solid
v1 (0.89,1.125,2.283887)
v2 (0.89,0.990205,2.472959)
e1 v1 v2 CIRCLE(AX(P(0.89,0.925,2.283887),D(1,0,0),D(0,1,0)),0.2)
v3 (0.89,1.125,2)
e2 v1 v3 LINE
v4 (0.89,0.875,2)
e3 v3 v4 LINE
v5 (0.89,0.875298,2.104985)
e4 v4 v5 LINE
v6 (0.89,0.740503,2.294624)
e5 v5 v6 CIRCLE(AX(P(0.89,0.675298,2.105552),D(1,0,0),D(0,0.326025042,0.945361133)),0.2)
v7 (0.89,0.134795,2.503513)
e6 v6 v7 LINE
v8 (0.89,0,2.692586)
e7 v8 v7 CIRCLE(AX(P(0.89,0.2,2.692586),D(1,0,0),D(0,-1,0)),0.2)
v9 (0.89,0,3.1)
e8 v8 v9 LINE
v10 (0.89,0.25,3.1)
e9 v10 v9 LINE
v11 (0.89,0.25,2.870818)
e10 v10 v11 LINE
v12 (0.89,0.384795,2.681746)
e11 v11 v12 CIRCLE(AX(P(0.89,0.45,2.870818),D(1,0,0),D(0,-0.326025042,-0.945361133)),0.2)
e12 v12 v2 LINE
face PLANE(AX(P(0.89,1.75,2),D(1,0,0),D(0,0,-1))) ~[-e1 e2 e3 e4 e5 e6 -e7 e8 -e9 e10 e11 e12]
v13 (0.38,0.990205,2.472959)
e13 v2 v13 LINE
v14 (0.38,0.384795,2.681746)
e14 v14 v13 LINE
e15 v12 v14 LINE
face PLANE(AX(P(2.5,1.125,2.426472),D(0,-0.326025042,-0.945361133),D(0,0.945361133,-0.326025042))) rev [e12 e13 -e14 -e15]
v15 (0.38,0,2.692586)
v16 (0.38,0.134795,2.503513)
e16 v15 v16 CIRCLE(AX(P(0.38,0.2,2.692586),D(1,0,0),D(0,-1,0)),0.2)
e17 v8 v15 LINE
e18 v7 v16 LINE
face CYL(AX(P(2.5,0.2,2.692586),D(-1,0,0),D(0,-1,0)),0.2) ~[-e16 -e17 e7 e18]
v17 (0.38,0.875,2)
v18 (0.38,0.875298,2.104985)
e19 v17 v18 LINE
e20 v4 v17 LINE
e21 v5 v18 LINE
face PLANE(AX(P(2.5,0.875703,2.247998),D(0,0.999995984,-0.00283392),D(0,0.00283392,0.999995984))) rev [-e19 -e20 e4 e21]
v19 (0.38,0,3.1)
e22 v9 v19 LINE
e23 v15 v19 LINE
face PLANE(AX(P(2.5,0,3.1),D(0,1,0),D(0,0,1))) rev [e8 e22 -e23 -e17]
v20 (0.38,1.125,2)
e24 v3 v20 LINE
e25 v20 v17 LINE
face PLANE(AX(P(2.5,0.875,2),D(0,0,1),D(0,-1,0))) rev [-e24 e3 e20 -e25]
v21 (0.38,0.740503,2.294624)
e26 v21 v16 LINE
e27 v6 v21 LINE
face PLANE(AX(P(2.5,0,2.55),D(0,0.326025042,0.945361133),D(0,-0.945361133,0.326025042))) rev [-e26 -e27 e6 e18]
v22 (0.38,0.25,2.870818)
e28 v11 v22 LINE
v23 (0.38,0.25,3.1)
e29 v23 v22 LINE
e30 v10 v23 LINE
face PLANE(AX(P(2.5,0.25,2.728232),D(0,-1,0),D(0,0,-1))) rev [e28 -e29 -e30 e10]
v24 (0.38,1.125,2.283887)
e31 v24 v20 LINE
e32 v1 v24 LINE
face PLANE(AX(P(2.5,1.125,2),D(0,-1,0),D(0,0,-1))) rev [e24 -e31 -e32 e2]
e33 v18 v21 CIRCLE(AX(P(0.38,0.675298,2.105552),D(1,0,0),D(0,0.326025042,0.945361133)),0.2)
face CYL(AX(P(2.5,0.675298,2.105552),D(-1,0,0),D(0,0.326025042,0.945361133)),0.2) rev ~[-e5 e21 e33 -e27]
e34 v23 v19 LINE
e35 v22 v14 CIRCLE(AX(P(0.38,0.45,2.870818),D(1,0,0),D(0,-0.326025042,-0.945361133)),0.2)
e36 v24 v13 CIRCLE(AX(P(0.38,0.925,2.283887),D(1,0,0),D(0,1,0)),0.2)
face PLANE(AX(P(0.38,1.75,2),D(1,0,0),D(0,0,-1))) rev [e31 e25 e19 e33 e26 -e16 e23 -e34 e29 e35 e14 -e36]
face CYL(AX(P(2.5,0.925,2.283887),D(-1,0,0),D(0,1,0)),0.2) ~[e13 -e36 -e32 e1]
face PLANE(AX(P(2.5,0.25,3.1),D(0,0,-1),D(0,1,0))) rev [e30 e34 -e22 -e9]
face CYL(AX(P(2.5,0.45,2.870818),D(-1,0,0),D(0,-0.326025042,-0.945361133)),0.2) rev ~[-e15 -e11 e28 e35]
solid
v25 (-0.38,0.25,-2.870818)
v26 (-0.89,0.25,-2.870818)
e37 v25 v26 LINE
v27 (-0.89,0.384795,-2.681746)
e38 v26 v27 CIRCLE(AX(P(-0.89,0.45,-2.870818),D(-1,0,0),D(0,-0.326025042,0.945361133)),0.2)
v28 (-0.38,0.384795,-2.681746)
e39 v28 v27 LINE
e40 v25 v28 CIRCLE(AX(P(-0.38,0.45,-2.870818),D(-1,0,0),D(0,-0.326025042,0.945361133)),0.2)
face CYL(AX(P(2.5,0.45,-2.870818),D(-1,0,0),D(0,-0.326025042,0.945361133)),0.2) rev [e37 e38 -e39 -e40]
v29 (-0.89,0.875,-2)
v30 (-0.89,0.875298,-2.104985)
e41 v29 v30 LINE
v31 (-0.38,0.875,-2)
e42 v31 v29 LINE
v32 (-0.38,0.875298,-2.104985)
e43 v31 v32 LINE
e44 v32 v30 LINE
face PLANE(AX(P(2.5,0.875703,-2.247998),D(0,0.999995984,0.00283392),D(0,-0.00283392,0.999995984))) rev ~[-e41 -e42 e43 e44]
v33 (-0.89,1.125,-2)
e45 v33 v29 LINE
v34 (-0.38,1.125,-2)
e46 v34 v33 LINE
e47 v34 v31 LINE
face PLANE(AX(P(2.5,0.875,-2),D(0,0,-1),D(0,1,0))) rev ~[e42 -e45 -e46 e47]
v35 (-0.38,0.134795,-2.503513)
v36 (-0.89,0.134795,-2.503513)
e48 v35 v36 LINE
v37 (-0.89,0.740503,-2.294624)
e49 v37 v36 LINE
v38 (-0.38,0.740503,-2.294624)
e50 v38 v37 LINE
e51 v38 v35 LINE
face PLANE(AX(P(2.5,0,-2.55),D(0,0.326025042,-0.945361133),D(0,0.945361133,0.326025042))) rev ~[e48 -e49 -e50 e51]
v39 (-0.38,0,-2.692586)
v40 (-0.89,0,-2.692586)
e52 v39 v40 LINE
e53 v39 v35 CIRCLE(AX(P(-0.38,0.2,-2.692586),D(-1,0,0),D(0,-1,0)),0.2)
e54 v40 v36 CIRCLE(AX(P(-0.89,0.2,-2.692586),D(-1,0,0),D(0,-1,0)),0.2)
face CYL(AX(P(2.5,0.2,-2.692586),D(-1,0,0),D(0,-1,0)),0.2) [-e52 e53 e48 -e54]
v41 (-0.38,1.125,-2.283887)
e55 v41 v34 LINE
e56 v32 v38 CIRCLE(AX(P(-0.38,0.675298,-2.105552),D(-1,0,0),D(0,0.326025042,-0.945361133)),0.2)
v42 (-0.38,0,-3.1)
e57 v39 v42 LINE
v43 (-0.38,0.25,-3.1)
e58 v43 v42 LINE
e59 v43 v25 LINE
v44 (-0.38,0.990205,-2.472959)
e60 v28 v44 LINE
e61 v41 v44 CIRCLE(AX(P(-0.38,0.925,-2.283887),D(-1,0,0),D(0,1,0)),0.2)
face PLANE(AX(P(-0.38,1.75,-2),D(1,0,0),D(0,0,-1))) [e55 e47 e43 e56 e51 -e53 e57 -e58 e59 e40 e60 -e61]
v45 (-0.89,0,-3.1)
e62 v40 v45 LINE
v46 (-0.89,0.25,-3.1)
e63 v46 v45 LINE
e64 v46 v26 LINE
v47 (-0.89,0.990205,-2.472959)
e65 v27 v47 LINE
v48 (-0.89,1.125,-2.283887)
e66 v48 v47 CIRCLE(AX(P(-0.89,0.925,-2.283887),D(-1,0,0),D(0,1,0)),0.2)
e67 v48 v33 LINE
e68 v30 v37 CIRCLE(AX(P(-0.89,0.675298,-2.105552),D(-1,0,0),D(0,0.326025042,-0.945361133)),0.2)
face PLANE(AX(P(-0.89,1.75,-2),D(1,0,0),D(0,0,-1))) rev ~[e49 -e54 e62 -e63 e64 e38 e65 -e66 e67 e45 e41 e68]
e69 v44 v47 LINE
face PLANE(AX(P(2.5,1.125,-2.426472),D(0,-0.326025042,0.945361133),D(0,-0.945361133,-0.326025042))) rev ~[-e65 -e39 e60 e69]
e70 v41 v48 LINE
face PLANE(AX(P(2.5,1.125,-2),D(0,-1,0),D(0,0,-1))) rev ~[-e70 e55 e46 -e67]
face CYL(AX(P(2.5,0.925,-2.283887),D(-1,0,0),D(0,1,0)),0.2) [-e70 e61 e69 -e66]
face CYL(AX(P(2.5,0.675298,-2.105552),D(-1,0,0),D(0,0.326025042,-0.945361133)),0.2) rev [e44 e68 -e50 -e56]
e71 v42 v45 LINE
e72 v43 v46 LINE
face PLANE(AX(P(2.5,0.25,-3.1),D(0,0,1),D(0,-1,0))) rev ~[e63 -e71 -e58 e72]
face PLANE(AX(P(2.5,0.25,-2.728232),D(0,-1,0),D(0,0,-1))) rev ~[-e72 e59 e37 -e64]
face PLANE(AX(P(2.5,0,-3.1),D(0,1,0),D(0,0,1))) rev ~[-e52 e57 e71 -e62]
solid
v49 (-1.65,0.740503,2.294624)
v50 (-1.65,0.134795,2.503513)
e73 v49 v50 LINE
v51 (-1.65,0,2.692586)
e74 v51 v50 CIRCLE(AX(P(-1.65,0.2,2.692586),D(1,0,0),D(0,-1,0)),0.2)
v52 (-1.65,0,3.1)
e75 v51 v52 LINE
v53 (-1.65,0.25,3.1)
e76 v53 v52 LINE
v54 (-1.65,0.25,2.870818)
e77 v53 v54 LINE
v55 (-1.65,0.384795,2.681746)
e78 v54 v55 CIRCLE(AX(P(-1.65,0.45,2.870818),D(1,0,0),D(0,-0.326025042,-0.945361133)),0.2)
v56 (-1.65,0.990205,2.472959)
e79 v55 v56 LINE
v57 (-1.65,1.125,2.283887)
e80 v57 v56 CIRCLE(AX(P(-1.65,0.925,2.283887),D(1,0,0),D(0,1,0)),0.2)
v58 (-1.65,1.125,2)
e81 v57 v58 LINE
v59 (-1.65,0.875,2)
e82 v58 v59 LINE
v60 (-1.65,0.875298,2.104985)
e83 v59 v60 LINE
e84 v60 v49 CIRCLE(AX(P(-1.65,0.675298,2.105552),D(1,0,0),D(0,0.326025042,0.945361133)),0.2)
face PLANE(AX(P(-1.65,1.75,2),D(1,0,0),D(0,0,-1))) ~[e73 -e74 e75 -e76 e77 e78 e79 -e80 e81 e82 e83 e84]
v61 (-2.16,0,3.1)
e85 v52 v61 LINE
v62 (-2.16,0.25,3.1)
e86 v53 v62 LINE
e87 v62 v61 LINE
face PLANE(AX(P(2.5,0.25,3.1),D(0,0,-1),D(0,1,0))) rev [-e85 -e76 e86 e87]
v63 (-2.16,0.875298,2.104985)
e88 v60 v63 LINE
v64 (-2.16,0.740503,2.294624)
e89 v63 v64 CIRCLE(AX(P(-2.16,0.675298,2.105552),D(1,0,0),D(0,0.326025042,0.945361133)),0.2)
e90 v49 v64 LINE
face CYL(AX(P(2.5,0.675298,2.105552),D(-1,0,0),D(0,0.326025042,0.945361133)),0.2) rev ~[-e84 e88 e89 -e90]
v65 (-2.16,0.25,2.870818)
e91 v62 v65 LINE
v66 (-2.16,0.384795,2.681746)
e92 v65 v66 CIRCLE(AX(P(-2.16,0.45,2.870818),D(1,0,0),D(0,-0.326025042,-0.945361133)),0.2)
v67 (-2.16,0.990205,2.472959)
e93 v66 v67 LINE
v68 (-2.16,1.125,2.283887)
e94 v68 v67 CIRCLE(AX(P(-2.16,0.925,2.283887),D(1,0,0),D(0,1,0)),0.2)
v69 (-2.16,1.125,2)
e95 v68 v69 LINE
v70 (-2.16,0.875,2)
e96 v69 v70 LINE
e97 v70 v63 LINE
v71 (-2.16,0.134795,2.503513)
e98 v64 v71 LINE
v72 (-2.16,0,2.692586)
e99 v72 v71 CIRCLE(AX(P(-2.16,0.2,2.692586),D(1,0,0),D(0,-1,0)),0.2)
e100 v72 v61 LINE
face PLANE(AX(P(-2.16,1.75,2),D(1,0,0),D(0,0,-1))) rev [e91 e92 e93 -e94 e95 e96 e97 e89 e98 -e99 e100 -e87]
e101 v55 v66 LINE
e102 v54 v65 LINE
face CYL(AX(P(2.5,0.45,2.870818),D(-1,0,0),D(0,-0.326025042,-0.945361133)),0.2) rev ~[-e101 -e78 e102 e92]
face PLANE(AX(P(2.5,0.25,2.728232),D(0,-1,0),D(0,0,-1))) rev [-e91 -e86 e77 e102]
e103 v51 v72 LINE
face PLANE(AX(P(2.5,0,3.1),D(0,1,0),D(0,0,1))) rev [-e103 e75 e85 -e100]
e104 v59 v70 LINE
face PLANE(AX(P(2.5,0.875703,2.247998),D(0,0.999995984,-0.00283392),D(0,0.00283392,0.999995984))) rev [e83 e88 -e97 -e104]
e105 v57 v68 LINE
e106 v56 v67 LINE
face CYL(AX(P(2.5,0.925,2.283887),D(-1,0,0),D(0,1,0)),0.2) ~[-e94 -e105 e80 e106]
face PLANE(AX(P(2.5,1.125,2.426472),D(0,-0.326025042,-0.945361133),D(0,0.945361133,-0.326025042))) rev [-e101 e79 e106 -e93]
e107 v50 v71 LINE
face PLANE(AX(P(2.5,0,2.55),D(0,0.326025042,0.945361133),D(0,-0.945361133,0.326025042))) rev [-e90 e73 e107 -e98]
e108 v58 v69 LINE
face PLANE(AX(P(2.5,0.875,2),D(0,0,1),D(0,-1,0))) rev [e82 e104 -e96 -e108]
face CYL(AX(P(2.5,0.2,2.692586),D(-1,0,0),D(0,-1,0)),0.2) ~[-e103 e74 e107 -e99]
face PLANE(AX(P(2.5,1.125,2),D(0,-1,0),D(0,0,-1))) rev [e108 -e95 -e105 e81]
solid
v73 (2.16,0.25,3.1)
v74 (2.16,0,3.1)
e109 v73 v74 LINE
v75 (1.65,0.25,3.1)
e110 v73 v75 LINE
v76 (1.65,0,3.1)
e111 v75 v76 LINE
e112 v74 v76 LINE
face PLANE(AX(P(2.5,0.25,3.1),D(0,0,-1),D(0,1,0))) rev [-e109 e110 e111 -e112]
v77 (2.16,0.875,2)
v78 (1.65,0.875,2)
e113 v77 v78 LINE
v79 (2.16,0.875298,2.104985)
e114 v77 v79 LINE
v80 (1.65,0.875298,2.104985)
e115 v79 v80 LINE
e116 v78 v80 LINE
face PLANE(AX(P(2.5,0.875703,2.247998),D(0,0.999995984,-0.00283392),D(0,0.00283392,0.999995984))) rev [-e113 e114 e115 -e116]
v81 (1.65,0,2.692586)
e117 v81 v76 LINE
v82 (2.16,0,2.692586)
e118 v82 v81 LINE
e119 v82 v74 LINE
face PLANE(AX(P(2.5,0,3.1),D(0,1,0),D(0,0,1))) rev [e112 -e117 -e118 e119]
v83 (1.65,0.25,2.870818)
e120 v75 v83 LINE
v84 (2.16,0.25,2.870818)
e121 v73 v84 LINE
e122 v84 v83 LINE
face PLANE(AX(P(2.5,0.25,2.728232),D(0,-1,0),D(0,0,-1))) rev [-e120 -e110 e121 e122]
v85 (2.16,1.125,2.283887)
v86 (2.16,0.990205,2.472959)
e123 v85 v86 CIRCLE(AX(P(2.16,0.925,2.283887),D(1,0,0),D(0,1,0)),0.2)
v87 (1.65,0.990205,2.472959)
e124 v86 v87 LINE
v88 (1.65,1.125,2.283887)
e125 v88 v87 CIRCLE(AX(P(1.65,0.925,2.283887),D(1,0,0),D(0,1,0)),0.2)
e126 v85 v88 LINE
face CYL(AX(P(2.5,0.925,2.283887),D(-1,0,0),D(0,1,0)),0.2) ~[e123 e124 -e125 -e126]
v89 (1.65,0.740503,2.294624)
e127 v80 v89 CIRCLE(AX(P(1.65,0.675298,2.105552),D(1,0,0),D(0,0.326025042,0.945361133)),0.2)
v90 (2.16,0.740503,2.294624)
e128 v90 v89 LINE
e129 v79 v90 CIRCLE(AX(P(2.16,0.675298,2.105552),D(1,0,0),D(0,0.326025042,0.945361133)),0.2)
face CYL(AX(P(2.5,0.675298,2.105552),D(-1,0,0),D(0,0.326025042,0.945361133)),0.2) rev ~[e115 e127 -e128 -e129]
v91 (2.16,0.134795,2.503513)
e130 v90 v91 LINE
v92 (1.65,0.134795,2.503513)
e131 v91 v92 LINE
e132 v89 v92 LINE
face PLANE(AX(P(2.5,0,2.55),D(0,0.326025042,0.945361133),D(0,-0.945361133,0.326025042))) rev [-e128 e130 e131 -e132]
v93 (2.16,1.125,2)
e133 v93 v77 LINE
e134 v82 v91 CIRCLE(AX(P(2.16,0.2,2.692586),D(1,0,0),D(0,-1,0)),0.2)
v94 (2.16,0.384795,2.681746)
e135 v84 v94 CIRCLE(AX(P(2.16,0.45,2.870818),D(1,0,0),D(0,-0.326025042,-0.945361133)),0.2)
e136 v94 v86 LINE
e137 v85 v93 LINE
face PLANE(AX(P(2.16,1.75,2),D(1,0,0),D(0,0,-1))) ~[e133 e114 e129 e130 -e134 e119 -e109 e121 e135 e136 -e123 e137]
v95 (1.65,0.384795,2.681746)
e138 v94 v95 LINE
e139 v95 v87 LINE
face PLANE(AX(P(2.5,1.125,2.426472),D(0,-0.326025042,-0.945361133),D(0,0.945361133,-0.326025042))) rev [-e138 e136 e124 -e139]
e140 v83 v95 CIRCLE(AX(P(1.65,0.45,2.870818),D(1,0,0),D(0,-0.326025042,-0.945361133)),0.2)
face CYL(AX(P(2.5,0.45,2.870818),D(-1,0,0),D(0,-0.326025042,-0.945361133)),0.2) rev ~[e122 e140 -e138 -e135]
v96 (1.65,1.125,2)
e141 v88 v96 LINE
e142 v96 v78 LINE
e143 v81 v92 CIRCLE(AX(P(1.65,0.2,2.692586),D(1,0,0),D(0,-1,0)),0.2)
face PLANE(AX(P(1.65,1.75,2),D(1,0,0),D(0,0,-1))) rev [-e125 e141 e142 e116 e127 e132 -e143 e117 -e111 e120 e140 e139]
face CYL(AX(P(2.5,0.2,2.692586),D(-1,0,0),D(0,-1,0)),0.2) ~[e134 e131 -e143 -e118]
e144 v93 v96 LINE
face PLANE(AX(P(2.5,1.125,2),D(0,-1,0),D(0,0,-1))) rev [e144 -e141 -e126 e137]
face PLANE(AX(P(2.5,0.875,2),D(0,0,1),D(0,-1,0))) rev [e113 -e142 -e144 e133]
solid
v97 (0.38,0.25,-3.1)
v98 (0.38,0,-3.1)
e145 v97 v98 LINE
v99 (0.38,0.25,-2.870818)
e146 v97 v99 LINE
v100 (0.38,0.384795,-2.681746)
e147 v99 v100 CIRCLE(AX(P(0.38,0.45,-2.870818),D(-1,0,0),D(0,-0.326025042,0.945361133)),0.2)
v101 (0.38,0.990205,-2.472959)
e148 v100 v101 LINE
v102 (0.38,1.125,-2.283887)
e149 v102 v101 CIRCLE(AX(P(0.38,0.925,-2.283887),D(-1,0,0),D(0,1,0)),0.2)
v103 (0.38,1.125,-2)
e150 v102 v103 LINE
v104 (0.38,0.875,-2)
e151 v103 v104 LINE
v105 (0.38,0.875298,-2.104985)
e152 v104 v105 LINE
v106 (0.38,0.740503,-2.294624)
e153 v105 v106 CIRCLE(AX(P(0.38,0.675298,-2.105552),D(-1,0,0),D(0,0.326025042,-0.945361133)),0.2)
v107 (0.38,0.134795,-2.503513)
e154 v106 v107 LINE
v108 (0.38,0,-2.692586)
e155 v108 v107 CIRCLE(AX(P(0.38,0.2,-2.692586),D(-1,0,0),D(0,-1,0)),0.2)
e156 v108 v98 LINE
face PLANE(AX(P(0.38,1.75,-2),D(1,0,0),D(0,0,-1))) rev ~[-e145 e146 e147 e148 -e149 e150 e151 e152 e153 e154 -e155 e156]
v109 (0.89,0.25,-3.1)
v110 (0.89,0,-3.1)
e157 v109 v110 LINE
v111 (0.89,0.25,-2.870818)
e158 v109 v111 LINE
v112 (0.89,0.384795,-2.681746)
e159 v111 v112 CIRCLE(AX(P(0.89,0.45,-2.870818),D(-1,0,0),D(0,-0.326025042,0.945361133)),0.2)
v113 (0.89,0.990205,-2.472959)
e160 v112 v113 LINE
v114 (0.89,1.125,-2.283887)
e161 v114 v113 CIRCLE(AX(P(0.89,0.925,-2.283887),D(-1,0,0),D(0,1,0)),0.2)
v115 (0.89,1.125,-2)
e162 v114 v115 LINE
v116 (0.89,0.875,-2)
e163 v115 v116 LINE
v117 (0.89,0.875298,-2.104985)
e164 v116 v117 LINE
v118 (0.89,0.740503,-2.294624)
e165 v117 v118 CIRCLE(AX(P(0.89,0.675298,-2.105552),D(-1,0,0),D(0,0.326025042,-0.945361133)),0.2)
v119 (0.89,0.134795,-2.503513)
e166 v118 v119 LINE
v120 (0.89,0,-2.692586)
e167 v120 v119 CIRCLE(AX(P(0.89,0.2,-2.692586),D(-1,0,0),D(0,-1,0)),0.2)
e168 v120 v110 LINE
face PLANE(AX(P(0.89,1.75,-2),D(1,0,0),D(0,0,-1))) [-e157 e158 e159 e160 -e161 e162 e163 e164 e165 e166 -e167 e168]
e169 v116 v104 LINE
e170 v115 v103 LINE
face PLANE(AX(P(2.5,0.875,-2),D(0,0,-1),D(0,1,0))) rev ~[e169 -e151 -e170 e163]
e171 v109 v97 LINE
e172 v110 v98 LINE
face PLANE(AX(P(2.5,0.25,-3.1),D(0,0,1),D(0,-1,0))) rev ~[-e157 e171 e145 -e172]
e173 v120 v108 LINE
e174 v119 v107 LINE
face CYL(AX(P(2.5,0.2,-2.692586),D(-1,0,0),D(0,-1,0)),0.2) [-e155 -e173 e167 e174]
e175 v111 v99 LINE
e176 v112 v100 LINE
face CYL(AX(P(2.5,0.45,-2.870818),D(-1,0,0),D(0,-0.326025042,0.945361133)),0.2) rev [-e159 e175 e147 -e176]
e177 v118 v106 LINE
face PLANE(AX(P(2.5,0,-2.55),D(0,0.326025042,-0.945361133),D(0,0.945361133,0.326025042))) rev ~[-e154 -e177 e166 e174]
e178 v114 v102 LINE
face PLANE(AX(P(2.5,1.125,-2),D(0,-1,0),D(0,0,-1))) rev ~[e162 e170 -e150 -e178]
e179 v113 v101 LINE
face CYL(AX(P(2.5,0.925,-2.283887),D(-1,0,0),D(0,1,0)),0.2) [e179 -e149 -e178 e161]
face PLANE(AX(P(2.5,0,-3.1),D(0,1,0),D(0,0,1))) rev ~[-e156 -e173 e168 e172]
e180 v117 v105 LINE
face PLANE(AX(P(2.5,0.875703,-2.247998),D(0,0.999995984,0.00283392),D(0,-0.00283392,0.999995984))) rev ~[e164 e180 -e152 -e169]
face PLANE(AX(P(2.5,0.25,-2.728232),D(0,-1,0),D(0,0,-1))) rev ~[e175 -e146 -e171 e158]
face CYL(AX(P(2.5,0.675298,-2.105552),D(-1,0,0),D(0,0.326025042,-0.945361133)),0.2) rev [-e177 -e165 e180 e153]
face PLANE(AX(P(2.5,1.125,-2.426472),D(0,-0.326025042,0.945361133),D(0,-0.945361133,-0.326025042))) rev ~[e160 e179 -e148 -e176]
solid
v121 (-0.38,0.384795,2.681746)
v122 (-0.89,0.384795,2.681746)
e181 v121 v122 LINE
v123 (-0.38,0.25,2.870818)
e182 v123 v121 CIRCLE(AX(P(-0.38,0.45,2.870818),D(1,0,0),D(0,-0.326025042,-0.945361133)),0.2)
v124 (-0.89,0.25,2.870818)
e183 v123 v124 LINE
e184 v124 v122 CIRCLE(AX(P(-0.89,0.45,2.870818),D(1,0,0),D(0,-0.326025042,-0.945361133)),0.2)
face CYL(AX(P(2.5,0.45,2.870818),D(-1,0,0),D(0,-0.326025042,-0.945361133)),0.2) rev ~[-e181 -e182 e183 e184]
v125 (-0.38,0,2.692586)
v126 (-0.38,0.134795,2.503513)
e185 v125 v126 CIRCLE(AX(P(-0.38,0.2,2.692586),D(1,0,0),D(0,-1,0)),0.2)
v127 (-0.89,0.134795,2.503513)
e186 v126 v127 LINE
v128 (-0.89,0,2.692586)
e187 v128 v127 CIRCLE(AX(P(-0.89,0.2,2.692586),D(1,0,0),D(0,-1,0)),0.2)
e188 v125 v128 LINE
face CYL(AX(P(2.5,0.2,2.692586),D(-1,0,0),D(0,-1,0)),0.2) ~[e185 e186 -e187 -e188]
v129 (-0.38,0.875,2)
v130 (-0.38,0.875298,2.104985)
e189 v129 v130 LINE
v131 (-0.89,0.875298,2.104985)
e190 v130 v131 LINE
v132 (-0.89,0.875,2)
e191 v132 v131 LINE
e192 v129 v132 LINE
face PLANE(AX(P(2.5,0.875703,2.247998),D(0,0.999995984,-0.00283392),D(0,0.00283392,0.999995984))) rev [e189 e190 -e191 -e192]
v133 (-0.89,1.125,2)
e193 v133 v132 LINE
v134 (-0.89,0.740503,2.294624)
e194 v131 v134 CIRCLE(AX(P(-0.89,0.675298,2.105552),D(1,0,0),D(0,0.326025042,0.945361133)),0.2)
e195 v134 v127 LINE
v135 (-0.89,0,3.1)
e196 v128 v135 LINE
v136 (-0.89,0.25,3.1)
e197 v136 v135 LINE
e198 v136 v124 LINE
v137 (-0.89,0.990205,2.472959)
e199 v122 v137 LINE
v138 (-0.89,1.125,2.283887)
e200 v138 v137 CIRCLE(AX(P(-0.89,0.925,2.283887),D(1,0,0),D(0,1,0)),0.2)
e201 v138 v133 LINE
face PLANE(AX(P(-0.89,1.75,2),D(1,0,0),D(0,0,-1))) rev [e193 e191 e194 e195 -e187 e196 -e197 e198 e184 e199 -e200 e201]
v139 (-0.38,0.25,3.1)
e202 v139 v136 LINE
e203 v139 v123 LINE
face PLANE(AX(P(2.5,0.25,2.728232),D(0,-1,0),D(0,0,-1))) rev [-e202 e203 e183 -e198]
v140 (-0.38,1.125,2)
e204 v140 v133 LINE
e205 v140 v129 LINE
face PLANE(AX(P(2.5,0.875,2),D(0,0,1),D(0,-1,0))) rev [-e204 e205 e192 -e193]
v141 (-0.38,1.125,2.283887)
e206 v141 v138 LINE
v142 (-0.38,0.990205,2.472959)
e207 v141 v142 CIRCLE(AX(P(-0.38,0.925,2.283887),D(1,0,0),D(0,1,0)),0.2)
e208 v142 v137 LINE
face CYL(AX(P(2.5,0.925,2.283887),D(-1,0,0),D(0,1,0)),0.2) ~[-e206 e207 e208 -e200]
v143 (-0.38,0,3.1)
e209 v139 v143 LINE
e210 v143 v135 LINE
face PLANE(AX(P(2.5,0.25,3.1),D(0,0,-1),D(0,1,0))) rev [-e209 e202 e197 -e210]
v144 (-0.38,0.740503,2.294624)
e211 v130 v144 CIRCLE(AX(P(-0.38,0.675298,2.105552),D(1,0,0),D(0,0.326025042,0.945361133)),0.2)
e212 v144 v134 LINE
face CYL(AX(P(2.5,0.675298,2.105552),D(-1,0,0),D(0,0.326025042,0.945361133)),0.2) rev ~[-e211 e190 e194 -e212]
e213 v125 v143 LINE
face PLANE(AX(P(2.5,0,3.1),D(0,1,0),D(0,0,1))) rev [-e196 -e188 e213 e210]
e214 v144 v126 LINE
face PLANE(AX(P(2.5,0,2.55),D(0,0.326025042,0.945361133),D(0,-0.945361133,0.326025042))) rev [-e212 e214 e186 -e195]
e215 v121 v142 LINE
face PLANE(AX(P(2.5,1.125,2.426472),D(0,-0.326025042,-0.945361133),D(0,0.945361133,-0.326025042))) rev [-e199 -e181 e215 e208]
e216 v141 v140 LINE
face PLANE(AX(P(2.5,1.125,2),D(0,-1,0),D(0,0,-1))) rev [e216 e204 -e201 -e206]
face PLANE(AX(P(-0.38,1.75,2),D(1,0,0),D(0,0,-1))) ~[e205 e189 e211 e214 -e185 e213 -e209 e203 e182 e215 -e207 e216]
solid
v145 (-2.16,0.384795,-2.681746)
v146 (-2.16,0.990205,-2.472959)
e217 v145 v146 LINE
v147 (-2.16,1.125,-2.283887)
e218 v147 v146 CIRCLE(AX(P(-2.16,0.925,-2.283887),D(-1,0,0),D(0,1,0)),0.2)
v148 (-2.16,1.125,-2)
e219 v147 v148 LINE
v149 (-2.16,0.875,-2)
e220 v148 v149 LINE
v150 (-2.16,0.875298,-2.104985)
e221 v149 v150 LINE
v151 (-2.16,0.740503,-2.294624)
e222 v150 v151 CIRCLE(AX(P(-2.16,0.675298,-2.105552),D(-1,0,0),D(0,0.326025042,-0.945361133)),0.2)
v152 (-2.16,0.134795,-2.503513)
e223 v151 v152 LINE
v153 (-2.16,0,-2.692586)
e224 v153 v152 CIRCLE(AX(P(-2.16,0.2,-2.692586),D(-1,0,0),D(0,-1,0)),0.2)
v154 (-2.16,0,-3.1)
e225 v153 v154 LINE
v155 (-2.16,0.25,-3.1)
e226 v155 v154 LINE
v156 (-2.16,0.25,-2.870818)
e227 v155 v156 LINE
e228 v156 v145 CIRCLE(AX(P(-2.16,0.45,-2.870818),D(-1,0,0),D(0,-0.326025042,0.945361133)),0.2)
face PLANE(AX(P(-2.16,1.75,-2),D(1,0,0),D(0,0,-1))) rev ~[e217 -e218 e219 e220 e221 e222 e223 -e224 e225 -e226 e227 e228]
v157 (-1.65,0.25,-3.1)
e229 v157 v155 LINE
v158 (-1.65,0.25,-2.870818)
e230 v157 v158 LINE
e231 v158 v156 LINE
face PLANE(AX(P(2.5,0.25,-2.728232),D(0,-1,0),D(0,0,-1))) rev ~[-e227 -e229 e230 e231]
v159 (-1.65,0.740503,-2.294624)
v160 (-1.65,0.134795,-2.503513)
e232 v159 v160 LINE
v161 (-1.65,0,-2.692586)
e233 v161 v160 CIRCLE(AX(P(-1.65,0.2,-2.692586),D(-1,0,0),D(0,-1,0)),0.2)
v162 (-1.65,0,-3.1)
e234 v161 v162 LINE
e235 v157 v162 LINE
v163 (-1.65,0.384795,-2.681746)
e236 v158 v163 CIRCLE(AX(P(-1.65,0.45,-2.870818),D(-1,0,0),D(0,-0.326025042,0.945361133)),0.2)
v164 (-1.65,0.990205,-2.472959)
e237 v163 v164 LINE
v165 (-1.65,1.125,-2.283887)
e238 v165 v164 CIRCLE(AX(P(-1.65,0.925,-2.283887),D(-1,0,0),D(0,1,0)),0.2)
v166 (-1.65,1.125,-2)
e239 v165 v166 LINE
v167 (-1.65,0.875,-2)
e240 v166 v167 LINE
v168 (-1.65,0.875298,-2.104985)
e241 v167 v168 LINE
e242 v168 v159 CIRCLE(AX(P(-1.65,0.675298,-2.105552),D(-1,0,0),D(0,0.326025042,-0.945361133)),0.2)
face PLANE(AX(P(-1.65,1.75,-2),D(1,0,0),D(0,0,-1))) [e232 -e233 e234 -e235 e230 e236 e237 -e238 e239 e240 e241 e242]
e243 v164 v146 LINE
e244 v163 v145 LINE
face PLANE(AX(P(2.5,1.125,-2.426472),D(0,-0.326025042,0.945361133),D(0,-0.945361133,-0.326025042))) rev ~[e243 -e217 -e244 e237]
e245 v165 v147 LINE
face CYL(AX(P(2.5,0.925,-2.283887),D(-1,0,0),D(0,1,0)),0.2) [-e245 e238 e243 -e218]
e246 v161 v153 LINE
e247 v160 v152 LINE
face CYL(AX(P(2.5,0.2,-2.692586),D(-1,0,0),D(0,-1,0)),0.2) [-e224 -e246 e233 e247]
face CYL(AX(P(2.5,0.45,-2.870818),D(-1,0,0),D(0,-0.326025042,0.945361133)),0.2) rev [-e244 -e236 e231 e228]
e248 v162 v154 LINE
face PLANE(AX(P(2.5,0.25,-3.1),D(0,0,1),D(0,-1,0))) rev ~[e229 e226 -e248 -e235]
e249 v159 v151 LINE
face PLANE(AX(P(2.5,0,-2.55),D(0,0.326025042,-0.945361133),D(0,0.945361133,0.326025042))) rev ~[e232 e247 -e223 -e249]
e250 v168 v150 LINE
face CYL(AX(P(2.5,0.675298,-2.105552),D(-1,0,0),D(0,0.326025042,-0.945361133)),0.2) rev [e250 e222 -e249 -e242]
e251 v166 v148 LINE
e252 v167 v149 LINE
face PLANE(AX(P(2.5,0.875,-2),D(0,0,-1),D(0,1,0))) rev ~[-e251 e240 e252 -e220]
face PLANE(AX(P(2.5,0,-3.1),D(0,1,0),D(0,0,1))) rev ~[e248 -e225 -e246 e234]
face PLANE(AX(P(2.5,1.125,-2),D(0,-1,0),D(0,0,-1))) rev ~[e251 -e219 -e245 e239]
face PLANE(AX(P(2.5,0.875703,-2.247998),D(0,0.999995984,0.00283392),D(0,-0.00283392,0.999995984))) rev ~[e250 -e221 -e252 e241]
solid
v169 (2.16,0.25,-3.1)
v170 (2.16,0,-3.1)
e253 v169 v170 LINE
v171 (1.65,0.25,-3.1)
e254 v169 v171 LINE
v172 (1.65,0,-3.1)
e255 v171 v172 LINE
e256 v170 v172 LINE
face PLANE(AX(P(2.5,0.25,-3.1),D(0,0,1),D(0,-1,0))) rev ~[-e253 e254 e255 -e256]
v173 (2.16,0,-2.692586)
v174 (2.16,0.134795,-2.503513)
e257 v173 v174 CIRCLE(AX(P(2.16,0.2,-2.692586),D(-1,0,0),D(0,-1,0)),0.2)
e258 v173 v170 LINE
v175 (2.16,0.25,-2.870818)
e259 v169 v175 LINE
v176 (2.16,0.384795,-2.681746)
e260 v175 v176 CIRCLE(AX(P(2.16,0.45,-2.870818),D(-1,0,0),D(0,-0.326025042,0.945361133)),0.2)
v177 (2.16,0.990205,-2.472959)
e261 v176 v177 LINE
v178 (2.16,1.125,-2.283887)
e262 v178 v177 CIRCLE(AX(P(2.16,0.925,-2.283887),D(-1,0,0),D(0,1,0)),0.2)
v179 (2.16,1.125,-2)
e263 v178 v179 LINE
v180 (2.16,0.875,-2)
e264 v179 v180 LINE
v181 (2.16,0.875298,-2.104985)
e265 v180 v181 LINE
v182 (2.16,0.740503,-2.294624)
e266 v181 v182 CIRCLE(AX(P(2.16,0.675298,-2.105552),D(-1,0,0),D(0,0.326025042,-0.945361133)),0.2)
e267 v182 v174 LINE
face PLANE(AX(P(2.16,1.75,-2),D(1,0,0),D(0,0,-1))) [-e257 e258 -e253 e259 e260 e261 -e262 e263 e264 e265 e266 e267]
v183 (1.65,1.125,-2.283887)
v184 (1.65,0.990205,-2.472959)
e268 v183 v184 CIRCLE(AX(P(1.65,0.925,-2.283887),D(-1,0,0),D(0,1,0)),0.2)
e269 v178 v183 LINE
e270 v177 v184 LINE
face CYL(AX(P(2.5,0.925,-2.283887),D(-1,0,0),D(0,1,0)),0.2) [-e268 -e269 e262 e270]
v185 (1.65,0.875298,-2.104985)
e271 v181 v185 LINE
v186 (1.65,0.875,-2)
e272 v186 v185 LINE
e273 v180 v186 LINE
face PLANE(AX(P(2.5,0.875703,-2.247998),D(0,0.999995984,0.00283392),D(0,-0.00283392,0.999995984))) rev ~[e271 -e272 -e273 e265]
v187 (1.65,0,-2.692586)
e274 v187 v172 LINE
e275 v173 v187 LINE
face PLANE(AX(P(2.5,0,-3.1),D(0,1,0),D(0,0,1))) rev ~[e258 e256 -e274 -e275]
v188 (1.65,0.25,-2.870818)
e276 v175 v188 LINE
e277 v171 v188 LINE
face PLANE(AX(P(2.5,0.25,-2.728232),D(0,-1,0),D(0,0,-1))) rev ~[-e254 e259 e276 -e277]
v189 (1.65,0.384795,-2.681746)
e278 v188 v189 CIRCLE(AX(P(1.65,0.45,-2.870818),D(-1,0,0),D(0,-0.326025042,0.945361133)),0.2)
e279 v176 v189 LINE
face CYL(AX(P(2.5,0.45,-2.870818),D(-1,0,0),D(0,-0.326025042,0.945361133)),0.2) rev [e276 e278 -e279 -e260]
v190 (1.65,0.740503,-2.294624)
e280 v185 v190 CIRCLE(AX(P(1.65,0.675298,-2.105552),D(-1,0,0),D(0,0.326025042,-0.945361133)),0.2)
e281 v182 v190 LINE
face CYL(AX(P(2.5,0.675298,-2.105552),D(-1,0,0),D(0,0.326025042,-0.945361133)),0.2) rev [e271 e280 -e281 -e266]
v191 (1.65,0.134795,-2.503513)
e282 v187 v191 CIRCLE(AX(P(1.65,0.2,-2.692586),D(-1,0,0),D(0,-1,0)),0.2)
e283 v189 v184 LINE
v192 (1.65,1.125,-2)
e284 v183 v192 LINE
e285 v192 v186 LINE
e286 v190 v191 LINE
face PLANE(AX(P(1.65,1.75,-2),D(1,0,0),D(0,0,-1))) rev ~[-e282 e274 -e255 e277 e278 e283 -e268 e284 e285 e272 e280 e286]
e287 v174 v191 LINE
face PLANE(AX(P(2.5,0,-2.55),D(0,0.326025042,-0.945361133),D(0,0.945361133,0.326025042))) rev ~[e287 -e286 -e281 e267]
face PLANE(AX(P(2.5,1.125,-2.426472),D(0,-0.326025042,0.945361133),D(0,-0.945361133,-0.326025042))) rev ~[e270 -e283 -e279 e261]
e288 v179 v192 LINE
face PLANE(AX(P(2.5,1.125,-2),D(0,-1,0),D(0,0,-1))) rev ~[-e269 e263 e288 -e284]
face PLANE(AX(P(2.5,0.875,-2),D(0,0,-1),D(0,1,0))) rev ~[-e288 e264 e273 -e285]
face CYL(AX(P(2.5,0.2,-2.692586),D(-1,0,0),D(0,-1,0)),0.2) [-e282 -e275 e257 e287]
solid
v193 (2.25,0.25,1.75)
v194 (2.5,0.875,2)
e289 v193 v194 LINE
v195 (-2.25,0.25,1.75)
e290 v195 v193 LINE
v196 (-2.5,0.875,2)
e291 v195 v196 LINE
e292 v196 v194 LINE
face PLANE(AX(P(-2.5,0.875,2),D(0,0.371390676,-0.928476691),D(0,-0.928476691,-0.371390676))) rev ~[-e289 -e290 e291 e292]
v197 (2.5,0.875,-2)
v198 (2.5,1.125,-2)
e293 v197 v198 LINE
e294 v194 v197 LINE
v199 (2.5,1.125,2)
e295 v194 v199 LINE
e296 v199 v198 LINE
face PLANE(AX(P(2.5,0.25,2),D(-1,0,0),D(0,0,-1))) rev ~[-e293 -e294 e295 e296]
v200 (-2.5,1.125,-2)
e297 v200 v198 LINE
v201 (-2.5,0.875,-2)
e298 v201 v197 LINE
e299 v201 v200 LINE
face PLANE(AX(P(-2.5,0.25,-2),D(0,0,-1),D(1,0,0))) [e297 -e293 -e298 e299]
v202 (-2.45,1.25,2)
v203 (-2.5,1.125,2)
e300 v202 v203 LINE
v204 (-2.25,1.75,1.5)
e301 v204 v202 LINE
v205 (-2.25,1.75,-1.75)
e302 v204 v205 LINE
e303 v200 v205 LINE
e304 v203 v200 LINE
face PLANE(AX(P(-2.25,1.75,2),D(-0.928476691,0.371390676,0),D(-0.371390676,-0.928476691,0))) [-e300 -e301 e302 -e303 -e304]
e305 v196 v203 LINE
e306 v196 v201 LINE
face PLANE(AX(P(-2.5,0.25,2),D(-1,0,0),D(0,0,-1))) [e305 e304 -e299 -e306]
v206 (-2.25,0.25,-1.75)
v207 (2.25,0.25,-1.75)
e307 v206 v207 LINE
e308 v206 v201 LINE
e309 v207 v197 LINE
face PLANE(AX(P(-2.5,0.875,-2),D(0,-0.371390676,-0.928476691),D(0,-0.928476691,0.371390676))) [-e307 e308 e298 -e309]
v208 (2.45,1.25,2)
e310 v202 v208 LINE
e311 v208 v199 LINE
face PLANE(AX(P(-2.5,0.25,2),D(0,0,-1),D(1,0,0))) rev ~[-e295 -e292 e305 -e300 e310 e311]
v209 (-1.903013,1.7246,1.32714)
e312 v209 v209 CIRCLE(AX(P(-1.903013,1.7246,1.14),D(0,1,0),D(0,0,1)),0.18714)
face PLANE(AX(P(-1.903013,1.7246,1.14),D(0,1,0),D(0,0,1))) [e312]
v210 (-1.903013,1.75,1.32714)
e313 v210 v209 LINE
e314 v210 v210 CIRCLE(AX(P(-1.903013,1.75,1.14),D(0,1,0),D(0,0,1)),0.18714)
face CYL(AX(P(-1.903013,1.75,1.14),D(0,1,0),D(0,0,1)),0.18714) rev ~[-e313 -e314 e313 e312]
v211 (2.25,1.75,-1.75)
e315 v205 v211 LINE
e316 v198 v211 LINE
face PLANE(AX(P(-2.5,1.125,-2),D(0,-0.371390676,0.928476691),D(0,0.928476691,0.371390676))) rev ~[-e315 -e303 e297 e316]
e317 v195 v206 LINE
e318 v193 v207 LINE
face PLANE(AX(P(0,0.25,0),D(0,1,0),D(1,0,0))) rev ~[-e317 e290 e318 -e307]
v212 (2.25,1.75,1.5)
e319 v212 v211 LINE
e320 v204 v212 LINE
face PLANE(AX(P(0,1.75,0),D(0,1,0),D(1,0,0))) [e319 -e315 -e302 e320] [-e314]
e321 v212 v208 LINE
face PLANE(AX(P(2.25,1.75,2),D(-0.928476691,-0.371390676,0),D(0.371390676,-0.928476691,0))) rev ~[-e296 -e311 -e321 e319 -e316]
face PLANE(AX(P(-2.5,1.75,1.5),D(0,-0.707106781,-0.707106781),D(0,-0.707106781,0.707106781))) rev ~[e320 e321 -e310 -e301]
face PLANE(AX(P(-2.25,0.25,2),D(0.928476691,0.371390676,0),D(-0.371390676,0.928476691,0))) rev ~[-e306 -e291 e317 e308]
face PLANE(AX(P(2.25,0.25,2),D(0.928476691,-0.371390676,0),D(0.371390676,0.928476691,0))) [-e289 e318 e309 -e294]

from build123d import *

# Parameters (mm, degrees)
BOSS_EXTRUDE1_START = 0.25
SKETCH1_W           = 5
SKETCH1_H           = 4
BOSS_EXTRUDE1_DEPTH = 1.5
CUT_EXTRUDE1_DEPTH  = 6.031152949
CUT_EXTRUDE2_DEPTH  = 6.662375826
SKETCH4_R           = 0.187140245
CUT_EXTRUDE3_DEPTH  = 0.0254
BOSS_EXTRUDE3_DEPTH = 5
FILLET1_R           = 0.2
SKETCH7_W           = 0.34
SKETCH7_H           = 1.1
SKETCH7_W_2         = 0.76
CUT_EXTRUDE4_DEPTH  = 5.35


with BuildPart() as part:
    # Sketch1 → Boss-Extrude1 (new body)
    with BuildSketch(Plane(origin=(0, 0, 0), x_dir=(1, 0, 0), z_dir=(0, 1, 0)).offset(BOSS_EXTRUDE1_START)):
        Rectangle(SKETCH1_W, SKETCH1_H)
    extrude(amount=BOSS_EXTRUDE1_DEPTH)

    # Sketch2 → Cut-Extrude1 (cut, through all)
    with BuildSketch(Plane.XY.offset(2)):
        Polygon((-2.5, 1.75), (-2.25, 1.75), (-2.5, 1.125), align=None)
        Polygon((-2.5, 0.875), (-2.5, 0.25), (-2.25, 0.25), align=None)
        Polygon((2.5, 0.25), (2.25, 0.25), (2.5, 0.875), align=None)
        Polygon((2.5, 1.125), (2.5, 1.75), (2.25, 1.75), align=None)
    extrude(amount=-CUT_EXTRUDE1_DEPTH, mode=Mode.SUBTRACT)

    # Sketch3 → Cut-Extrude2 (cut, through all)
    with BuildSketch(Plane.ZY.offset(2.5)):
        Polygon((1.5, 1.75), (2, 1.25), (2, 1.75), align=None)
        Polygon((2, 0.875), (1.75, 0.25), (2, 0.25), align=None)
        Polygon((-2, 0.25), (-2, 0.875), (-1.75, 0.25), align=None)
        Polygon((-2, 1.125), (-1.75, 1.75), (-2, 1.75), align=None)
    extrude(amount=-CUT_EXTRUDE2_DEPTH, mode=Mode.SUBTRACT)

    # Sketch4 → Cut-Extrude3 (cut)
    with BuildSketch(Plane(origin=(0, 1.75, 0), x_dir=(1, 0, 0), z_dir=(0, 1, 0))):
        with Locations(Location((-1.903012969, -1.14, 0), (0, 0, 270))):
            Circle(SKETCH4_R)
    extrude(amount=-CUT_EXTRUDE3_DEPTH, mode=Mode.SUBTRACT)


with BuildPart() as body_2:
    # Sketch5 → Boss-Extrude3 (new body)
    with BuildSketch(Plane(origin=(2.5, 0, 0), x_dir=(0, 0, -1), z_dir=(1, 0, 0))):
        Polygon((2, 1.125), (2.426472421, 1.125), (2.728232142, 0.25), (3.1, 0.25), (3.1, 0), (2.55, 0), (2.247997903, 0.875702809), (2, 0.875), align=None)
    extrude(amount=-BOSS_EXTRUDE3_DEPTH)

    # Fillet1
    fillet1_edges = [body_2.edges().sort_by_distance(p)[0] for p in [
        (0, 1.125, -2.426472421),
        (0, 0.25, -2.728232142),
        (0, 0, -2.55),
        (0, 0.875702809, -2.247997903),
    ]]
    fillet(fillet1_edges, radius=FILLET1_R)

    # Sketch7 → Cut-Extrude4 (cut, through all)
    with BuildSketch(Plane(origin=(0, 1.75, 0), x_dir=(1, 0, 0), z_dir=(0, 1, 0))):
        with Locations((-2.33, 2.55)):
            Rectangle(SKETCH7_W, SKETCH7_H)
        with Locations((-1.27, 2.55)):
            Rectangle(SKETCH7_W_2, SKETCH7_H)
        with Locations((0, 2.55)):
            Rectangle(SKETCH7_W_2, SKETCH7_H)
        with Locations((1.27, 2.55)):
            Rectangle(SKETCH7_W_2, SKETCH7_H)
        with Locations((2.33, 2.55)):
            Rectangle(SKETCH7_W, SKETCH7_H)
    extrude(amount=-CUT_EXTRUDE4_DEPTH, mode=Mode.SUBTRACT)


with BuildPart() as cut_extrude4_piece_1:
    # of the separate pieces the step leaves, piece 1, a body of its own (cut_extrude4_pieces)
    add(body_2.part.solids().sort_by_distance((2.16, 1.125, -2.283886708))[0])


with BuildPart() as cut_extrude4_piece_2:
    # of the separate pieces the step leaves, piece 2, a body of its own (cut_extrude4_pieces)
    add(body_2.part.solids().sort_by_distance((-0.38, 1.125, -2.283886708))[0])


with BuildPart() as cut_extrude4_piece_3:
    # of the separate pieces the step leaves, piece 3, a body of its own (cut_extrude4_pieces)
    add(body_2.part.solids().sort_by_distance((-1.65, 1.125, -2.283886708))[0])


with BuildPart() as cut_extrude4_piece_4:
    # of the separate pieces the step leaves, piece 4, a body of its own (cut_extrude4_pieces)
    add(body_2.part.solids().sort_by_distance((0.89, 1.125, -2.283886708))[0])


with BuildPart() as body_6:
    # Mirror1: mirrored copy
    add(cut_extrude4_piece_1.part.mirror(Plane.XY))


with BuildPart() as body_7:
    # Mirror1 2: mirrored copy
    add(cut_extrude4_piece_4.part.mirror(Plane.XY))


with BuildPart() as body_8:
    # Mirror1 3: mirrored copy
    add(cut_extrude4_piece_2.part.mirror(Plane.XY))


with BuildPart() as body_9:
    # Mirror1 4: mirrored copy
    add(cut_extrude4_piece_3.part.mirror(Plane.XY))


solid = Compound([part.part, cut_extrude4_piece_1.part, cut_extrude4_piece_2.part, cut_extrude4_piece_3.part, cut_extrude4_piece_4.part, body_6.part, body_7.part, body_8.part, body_9.part])
